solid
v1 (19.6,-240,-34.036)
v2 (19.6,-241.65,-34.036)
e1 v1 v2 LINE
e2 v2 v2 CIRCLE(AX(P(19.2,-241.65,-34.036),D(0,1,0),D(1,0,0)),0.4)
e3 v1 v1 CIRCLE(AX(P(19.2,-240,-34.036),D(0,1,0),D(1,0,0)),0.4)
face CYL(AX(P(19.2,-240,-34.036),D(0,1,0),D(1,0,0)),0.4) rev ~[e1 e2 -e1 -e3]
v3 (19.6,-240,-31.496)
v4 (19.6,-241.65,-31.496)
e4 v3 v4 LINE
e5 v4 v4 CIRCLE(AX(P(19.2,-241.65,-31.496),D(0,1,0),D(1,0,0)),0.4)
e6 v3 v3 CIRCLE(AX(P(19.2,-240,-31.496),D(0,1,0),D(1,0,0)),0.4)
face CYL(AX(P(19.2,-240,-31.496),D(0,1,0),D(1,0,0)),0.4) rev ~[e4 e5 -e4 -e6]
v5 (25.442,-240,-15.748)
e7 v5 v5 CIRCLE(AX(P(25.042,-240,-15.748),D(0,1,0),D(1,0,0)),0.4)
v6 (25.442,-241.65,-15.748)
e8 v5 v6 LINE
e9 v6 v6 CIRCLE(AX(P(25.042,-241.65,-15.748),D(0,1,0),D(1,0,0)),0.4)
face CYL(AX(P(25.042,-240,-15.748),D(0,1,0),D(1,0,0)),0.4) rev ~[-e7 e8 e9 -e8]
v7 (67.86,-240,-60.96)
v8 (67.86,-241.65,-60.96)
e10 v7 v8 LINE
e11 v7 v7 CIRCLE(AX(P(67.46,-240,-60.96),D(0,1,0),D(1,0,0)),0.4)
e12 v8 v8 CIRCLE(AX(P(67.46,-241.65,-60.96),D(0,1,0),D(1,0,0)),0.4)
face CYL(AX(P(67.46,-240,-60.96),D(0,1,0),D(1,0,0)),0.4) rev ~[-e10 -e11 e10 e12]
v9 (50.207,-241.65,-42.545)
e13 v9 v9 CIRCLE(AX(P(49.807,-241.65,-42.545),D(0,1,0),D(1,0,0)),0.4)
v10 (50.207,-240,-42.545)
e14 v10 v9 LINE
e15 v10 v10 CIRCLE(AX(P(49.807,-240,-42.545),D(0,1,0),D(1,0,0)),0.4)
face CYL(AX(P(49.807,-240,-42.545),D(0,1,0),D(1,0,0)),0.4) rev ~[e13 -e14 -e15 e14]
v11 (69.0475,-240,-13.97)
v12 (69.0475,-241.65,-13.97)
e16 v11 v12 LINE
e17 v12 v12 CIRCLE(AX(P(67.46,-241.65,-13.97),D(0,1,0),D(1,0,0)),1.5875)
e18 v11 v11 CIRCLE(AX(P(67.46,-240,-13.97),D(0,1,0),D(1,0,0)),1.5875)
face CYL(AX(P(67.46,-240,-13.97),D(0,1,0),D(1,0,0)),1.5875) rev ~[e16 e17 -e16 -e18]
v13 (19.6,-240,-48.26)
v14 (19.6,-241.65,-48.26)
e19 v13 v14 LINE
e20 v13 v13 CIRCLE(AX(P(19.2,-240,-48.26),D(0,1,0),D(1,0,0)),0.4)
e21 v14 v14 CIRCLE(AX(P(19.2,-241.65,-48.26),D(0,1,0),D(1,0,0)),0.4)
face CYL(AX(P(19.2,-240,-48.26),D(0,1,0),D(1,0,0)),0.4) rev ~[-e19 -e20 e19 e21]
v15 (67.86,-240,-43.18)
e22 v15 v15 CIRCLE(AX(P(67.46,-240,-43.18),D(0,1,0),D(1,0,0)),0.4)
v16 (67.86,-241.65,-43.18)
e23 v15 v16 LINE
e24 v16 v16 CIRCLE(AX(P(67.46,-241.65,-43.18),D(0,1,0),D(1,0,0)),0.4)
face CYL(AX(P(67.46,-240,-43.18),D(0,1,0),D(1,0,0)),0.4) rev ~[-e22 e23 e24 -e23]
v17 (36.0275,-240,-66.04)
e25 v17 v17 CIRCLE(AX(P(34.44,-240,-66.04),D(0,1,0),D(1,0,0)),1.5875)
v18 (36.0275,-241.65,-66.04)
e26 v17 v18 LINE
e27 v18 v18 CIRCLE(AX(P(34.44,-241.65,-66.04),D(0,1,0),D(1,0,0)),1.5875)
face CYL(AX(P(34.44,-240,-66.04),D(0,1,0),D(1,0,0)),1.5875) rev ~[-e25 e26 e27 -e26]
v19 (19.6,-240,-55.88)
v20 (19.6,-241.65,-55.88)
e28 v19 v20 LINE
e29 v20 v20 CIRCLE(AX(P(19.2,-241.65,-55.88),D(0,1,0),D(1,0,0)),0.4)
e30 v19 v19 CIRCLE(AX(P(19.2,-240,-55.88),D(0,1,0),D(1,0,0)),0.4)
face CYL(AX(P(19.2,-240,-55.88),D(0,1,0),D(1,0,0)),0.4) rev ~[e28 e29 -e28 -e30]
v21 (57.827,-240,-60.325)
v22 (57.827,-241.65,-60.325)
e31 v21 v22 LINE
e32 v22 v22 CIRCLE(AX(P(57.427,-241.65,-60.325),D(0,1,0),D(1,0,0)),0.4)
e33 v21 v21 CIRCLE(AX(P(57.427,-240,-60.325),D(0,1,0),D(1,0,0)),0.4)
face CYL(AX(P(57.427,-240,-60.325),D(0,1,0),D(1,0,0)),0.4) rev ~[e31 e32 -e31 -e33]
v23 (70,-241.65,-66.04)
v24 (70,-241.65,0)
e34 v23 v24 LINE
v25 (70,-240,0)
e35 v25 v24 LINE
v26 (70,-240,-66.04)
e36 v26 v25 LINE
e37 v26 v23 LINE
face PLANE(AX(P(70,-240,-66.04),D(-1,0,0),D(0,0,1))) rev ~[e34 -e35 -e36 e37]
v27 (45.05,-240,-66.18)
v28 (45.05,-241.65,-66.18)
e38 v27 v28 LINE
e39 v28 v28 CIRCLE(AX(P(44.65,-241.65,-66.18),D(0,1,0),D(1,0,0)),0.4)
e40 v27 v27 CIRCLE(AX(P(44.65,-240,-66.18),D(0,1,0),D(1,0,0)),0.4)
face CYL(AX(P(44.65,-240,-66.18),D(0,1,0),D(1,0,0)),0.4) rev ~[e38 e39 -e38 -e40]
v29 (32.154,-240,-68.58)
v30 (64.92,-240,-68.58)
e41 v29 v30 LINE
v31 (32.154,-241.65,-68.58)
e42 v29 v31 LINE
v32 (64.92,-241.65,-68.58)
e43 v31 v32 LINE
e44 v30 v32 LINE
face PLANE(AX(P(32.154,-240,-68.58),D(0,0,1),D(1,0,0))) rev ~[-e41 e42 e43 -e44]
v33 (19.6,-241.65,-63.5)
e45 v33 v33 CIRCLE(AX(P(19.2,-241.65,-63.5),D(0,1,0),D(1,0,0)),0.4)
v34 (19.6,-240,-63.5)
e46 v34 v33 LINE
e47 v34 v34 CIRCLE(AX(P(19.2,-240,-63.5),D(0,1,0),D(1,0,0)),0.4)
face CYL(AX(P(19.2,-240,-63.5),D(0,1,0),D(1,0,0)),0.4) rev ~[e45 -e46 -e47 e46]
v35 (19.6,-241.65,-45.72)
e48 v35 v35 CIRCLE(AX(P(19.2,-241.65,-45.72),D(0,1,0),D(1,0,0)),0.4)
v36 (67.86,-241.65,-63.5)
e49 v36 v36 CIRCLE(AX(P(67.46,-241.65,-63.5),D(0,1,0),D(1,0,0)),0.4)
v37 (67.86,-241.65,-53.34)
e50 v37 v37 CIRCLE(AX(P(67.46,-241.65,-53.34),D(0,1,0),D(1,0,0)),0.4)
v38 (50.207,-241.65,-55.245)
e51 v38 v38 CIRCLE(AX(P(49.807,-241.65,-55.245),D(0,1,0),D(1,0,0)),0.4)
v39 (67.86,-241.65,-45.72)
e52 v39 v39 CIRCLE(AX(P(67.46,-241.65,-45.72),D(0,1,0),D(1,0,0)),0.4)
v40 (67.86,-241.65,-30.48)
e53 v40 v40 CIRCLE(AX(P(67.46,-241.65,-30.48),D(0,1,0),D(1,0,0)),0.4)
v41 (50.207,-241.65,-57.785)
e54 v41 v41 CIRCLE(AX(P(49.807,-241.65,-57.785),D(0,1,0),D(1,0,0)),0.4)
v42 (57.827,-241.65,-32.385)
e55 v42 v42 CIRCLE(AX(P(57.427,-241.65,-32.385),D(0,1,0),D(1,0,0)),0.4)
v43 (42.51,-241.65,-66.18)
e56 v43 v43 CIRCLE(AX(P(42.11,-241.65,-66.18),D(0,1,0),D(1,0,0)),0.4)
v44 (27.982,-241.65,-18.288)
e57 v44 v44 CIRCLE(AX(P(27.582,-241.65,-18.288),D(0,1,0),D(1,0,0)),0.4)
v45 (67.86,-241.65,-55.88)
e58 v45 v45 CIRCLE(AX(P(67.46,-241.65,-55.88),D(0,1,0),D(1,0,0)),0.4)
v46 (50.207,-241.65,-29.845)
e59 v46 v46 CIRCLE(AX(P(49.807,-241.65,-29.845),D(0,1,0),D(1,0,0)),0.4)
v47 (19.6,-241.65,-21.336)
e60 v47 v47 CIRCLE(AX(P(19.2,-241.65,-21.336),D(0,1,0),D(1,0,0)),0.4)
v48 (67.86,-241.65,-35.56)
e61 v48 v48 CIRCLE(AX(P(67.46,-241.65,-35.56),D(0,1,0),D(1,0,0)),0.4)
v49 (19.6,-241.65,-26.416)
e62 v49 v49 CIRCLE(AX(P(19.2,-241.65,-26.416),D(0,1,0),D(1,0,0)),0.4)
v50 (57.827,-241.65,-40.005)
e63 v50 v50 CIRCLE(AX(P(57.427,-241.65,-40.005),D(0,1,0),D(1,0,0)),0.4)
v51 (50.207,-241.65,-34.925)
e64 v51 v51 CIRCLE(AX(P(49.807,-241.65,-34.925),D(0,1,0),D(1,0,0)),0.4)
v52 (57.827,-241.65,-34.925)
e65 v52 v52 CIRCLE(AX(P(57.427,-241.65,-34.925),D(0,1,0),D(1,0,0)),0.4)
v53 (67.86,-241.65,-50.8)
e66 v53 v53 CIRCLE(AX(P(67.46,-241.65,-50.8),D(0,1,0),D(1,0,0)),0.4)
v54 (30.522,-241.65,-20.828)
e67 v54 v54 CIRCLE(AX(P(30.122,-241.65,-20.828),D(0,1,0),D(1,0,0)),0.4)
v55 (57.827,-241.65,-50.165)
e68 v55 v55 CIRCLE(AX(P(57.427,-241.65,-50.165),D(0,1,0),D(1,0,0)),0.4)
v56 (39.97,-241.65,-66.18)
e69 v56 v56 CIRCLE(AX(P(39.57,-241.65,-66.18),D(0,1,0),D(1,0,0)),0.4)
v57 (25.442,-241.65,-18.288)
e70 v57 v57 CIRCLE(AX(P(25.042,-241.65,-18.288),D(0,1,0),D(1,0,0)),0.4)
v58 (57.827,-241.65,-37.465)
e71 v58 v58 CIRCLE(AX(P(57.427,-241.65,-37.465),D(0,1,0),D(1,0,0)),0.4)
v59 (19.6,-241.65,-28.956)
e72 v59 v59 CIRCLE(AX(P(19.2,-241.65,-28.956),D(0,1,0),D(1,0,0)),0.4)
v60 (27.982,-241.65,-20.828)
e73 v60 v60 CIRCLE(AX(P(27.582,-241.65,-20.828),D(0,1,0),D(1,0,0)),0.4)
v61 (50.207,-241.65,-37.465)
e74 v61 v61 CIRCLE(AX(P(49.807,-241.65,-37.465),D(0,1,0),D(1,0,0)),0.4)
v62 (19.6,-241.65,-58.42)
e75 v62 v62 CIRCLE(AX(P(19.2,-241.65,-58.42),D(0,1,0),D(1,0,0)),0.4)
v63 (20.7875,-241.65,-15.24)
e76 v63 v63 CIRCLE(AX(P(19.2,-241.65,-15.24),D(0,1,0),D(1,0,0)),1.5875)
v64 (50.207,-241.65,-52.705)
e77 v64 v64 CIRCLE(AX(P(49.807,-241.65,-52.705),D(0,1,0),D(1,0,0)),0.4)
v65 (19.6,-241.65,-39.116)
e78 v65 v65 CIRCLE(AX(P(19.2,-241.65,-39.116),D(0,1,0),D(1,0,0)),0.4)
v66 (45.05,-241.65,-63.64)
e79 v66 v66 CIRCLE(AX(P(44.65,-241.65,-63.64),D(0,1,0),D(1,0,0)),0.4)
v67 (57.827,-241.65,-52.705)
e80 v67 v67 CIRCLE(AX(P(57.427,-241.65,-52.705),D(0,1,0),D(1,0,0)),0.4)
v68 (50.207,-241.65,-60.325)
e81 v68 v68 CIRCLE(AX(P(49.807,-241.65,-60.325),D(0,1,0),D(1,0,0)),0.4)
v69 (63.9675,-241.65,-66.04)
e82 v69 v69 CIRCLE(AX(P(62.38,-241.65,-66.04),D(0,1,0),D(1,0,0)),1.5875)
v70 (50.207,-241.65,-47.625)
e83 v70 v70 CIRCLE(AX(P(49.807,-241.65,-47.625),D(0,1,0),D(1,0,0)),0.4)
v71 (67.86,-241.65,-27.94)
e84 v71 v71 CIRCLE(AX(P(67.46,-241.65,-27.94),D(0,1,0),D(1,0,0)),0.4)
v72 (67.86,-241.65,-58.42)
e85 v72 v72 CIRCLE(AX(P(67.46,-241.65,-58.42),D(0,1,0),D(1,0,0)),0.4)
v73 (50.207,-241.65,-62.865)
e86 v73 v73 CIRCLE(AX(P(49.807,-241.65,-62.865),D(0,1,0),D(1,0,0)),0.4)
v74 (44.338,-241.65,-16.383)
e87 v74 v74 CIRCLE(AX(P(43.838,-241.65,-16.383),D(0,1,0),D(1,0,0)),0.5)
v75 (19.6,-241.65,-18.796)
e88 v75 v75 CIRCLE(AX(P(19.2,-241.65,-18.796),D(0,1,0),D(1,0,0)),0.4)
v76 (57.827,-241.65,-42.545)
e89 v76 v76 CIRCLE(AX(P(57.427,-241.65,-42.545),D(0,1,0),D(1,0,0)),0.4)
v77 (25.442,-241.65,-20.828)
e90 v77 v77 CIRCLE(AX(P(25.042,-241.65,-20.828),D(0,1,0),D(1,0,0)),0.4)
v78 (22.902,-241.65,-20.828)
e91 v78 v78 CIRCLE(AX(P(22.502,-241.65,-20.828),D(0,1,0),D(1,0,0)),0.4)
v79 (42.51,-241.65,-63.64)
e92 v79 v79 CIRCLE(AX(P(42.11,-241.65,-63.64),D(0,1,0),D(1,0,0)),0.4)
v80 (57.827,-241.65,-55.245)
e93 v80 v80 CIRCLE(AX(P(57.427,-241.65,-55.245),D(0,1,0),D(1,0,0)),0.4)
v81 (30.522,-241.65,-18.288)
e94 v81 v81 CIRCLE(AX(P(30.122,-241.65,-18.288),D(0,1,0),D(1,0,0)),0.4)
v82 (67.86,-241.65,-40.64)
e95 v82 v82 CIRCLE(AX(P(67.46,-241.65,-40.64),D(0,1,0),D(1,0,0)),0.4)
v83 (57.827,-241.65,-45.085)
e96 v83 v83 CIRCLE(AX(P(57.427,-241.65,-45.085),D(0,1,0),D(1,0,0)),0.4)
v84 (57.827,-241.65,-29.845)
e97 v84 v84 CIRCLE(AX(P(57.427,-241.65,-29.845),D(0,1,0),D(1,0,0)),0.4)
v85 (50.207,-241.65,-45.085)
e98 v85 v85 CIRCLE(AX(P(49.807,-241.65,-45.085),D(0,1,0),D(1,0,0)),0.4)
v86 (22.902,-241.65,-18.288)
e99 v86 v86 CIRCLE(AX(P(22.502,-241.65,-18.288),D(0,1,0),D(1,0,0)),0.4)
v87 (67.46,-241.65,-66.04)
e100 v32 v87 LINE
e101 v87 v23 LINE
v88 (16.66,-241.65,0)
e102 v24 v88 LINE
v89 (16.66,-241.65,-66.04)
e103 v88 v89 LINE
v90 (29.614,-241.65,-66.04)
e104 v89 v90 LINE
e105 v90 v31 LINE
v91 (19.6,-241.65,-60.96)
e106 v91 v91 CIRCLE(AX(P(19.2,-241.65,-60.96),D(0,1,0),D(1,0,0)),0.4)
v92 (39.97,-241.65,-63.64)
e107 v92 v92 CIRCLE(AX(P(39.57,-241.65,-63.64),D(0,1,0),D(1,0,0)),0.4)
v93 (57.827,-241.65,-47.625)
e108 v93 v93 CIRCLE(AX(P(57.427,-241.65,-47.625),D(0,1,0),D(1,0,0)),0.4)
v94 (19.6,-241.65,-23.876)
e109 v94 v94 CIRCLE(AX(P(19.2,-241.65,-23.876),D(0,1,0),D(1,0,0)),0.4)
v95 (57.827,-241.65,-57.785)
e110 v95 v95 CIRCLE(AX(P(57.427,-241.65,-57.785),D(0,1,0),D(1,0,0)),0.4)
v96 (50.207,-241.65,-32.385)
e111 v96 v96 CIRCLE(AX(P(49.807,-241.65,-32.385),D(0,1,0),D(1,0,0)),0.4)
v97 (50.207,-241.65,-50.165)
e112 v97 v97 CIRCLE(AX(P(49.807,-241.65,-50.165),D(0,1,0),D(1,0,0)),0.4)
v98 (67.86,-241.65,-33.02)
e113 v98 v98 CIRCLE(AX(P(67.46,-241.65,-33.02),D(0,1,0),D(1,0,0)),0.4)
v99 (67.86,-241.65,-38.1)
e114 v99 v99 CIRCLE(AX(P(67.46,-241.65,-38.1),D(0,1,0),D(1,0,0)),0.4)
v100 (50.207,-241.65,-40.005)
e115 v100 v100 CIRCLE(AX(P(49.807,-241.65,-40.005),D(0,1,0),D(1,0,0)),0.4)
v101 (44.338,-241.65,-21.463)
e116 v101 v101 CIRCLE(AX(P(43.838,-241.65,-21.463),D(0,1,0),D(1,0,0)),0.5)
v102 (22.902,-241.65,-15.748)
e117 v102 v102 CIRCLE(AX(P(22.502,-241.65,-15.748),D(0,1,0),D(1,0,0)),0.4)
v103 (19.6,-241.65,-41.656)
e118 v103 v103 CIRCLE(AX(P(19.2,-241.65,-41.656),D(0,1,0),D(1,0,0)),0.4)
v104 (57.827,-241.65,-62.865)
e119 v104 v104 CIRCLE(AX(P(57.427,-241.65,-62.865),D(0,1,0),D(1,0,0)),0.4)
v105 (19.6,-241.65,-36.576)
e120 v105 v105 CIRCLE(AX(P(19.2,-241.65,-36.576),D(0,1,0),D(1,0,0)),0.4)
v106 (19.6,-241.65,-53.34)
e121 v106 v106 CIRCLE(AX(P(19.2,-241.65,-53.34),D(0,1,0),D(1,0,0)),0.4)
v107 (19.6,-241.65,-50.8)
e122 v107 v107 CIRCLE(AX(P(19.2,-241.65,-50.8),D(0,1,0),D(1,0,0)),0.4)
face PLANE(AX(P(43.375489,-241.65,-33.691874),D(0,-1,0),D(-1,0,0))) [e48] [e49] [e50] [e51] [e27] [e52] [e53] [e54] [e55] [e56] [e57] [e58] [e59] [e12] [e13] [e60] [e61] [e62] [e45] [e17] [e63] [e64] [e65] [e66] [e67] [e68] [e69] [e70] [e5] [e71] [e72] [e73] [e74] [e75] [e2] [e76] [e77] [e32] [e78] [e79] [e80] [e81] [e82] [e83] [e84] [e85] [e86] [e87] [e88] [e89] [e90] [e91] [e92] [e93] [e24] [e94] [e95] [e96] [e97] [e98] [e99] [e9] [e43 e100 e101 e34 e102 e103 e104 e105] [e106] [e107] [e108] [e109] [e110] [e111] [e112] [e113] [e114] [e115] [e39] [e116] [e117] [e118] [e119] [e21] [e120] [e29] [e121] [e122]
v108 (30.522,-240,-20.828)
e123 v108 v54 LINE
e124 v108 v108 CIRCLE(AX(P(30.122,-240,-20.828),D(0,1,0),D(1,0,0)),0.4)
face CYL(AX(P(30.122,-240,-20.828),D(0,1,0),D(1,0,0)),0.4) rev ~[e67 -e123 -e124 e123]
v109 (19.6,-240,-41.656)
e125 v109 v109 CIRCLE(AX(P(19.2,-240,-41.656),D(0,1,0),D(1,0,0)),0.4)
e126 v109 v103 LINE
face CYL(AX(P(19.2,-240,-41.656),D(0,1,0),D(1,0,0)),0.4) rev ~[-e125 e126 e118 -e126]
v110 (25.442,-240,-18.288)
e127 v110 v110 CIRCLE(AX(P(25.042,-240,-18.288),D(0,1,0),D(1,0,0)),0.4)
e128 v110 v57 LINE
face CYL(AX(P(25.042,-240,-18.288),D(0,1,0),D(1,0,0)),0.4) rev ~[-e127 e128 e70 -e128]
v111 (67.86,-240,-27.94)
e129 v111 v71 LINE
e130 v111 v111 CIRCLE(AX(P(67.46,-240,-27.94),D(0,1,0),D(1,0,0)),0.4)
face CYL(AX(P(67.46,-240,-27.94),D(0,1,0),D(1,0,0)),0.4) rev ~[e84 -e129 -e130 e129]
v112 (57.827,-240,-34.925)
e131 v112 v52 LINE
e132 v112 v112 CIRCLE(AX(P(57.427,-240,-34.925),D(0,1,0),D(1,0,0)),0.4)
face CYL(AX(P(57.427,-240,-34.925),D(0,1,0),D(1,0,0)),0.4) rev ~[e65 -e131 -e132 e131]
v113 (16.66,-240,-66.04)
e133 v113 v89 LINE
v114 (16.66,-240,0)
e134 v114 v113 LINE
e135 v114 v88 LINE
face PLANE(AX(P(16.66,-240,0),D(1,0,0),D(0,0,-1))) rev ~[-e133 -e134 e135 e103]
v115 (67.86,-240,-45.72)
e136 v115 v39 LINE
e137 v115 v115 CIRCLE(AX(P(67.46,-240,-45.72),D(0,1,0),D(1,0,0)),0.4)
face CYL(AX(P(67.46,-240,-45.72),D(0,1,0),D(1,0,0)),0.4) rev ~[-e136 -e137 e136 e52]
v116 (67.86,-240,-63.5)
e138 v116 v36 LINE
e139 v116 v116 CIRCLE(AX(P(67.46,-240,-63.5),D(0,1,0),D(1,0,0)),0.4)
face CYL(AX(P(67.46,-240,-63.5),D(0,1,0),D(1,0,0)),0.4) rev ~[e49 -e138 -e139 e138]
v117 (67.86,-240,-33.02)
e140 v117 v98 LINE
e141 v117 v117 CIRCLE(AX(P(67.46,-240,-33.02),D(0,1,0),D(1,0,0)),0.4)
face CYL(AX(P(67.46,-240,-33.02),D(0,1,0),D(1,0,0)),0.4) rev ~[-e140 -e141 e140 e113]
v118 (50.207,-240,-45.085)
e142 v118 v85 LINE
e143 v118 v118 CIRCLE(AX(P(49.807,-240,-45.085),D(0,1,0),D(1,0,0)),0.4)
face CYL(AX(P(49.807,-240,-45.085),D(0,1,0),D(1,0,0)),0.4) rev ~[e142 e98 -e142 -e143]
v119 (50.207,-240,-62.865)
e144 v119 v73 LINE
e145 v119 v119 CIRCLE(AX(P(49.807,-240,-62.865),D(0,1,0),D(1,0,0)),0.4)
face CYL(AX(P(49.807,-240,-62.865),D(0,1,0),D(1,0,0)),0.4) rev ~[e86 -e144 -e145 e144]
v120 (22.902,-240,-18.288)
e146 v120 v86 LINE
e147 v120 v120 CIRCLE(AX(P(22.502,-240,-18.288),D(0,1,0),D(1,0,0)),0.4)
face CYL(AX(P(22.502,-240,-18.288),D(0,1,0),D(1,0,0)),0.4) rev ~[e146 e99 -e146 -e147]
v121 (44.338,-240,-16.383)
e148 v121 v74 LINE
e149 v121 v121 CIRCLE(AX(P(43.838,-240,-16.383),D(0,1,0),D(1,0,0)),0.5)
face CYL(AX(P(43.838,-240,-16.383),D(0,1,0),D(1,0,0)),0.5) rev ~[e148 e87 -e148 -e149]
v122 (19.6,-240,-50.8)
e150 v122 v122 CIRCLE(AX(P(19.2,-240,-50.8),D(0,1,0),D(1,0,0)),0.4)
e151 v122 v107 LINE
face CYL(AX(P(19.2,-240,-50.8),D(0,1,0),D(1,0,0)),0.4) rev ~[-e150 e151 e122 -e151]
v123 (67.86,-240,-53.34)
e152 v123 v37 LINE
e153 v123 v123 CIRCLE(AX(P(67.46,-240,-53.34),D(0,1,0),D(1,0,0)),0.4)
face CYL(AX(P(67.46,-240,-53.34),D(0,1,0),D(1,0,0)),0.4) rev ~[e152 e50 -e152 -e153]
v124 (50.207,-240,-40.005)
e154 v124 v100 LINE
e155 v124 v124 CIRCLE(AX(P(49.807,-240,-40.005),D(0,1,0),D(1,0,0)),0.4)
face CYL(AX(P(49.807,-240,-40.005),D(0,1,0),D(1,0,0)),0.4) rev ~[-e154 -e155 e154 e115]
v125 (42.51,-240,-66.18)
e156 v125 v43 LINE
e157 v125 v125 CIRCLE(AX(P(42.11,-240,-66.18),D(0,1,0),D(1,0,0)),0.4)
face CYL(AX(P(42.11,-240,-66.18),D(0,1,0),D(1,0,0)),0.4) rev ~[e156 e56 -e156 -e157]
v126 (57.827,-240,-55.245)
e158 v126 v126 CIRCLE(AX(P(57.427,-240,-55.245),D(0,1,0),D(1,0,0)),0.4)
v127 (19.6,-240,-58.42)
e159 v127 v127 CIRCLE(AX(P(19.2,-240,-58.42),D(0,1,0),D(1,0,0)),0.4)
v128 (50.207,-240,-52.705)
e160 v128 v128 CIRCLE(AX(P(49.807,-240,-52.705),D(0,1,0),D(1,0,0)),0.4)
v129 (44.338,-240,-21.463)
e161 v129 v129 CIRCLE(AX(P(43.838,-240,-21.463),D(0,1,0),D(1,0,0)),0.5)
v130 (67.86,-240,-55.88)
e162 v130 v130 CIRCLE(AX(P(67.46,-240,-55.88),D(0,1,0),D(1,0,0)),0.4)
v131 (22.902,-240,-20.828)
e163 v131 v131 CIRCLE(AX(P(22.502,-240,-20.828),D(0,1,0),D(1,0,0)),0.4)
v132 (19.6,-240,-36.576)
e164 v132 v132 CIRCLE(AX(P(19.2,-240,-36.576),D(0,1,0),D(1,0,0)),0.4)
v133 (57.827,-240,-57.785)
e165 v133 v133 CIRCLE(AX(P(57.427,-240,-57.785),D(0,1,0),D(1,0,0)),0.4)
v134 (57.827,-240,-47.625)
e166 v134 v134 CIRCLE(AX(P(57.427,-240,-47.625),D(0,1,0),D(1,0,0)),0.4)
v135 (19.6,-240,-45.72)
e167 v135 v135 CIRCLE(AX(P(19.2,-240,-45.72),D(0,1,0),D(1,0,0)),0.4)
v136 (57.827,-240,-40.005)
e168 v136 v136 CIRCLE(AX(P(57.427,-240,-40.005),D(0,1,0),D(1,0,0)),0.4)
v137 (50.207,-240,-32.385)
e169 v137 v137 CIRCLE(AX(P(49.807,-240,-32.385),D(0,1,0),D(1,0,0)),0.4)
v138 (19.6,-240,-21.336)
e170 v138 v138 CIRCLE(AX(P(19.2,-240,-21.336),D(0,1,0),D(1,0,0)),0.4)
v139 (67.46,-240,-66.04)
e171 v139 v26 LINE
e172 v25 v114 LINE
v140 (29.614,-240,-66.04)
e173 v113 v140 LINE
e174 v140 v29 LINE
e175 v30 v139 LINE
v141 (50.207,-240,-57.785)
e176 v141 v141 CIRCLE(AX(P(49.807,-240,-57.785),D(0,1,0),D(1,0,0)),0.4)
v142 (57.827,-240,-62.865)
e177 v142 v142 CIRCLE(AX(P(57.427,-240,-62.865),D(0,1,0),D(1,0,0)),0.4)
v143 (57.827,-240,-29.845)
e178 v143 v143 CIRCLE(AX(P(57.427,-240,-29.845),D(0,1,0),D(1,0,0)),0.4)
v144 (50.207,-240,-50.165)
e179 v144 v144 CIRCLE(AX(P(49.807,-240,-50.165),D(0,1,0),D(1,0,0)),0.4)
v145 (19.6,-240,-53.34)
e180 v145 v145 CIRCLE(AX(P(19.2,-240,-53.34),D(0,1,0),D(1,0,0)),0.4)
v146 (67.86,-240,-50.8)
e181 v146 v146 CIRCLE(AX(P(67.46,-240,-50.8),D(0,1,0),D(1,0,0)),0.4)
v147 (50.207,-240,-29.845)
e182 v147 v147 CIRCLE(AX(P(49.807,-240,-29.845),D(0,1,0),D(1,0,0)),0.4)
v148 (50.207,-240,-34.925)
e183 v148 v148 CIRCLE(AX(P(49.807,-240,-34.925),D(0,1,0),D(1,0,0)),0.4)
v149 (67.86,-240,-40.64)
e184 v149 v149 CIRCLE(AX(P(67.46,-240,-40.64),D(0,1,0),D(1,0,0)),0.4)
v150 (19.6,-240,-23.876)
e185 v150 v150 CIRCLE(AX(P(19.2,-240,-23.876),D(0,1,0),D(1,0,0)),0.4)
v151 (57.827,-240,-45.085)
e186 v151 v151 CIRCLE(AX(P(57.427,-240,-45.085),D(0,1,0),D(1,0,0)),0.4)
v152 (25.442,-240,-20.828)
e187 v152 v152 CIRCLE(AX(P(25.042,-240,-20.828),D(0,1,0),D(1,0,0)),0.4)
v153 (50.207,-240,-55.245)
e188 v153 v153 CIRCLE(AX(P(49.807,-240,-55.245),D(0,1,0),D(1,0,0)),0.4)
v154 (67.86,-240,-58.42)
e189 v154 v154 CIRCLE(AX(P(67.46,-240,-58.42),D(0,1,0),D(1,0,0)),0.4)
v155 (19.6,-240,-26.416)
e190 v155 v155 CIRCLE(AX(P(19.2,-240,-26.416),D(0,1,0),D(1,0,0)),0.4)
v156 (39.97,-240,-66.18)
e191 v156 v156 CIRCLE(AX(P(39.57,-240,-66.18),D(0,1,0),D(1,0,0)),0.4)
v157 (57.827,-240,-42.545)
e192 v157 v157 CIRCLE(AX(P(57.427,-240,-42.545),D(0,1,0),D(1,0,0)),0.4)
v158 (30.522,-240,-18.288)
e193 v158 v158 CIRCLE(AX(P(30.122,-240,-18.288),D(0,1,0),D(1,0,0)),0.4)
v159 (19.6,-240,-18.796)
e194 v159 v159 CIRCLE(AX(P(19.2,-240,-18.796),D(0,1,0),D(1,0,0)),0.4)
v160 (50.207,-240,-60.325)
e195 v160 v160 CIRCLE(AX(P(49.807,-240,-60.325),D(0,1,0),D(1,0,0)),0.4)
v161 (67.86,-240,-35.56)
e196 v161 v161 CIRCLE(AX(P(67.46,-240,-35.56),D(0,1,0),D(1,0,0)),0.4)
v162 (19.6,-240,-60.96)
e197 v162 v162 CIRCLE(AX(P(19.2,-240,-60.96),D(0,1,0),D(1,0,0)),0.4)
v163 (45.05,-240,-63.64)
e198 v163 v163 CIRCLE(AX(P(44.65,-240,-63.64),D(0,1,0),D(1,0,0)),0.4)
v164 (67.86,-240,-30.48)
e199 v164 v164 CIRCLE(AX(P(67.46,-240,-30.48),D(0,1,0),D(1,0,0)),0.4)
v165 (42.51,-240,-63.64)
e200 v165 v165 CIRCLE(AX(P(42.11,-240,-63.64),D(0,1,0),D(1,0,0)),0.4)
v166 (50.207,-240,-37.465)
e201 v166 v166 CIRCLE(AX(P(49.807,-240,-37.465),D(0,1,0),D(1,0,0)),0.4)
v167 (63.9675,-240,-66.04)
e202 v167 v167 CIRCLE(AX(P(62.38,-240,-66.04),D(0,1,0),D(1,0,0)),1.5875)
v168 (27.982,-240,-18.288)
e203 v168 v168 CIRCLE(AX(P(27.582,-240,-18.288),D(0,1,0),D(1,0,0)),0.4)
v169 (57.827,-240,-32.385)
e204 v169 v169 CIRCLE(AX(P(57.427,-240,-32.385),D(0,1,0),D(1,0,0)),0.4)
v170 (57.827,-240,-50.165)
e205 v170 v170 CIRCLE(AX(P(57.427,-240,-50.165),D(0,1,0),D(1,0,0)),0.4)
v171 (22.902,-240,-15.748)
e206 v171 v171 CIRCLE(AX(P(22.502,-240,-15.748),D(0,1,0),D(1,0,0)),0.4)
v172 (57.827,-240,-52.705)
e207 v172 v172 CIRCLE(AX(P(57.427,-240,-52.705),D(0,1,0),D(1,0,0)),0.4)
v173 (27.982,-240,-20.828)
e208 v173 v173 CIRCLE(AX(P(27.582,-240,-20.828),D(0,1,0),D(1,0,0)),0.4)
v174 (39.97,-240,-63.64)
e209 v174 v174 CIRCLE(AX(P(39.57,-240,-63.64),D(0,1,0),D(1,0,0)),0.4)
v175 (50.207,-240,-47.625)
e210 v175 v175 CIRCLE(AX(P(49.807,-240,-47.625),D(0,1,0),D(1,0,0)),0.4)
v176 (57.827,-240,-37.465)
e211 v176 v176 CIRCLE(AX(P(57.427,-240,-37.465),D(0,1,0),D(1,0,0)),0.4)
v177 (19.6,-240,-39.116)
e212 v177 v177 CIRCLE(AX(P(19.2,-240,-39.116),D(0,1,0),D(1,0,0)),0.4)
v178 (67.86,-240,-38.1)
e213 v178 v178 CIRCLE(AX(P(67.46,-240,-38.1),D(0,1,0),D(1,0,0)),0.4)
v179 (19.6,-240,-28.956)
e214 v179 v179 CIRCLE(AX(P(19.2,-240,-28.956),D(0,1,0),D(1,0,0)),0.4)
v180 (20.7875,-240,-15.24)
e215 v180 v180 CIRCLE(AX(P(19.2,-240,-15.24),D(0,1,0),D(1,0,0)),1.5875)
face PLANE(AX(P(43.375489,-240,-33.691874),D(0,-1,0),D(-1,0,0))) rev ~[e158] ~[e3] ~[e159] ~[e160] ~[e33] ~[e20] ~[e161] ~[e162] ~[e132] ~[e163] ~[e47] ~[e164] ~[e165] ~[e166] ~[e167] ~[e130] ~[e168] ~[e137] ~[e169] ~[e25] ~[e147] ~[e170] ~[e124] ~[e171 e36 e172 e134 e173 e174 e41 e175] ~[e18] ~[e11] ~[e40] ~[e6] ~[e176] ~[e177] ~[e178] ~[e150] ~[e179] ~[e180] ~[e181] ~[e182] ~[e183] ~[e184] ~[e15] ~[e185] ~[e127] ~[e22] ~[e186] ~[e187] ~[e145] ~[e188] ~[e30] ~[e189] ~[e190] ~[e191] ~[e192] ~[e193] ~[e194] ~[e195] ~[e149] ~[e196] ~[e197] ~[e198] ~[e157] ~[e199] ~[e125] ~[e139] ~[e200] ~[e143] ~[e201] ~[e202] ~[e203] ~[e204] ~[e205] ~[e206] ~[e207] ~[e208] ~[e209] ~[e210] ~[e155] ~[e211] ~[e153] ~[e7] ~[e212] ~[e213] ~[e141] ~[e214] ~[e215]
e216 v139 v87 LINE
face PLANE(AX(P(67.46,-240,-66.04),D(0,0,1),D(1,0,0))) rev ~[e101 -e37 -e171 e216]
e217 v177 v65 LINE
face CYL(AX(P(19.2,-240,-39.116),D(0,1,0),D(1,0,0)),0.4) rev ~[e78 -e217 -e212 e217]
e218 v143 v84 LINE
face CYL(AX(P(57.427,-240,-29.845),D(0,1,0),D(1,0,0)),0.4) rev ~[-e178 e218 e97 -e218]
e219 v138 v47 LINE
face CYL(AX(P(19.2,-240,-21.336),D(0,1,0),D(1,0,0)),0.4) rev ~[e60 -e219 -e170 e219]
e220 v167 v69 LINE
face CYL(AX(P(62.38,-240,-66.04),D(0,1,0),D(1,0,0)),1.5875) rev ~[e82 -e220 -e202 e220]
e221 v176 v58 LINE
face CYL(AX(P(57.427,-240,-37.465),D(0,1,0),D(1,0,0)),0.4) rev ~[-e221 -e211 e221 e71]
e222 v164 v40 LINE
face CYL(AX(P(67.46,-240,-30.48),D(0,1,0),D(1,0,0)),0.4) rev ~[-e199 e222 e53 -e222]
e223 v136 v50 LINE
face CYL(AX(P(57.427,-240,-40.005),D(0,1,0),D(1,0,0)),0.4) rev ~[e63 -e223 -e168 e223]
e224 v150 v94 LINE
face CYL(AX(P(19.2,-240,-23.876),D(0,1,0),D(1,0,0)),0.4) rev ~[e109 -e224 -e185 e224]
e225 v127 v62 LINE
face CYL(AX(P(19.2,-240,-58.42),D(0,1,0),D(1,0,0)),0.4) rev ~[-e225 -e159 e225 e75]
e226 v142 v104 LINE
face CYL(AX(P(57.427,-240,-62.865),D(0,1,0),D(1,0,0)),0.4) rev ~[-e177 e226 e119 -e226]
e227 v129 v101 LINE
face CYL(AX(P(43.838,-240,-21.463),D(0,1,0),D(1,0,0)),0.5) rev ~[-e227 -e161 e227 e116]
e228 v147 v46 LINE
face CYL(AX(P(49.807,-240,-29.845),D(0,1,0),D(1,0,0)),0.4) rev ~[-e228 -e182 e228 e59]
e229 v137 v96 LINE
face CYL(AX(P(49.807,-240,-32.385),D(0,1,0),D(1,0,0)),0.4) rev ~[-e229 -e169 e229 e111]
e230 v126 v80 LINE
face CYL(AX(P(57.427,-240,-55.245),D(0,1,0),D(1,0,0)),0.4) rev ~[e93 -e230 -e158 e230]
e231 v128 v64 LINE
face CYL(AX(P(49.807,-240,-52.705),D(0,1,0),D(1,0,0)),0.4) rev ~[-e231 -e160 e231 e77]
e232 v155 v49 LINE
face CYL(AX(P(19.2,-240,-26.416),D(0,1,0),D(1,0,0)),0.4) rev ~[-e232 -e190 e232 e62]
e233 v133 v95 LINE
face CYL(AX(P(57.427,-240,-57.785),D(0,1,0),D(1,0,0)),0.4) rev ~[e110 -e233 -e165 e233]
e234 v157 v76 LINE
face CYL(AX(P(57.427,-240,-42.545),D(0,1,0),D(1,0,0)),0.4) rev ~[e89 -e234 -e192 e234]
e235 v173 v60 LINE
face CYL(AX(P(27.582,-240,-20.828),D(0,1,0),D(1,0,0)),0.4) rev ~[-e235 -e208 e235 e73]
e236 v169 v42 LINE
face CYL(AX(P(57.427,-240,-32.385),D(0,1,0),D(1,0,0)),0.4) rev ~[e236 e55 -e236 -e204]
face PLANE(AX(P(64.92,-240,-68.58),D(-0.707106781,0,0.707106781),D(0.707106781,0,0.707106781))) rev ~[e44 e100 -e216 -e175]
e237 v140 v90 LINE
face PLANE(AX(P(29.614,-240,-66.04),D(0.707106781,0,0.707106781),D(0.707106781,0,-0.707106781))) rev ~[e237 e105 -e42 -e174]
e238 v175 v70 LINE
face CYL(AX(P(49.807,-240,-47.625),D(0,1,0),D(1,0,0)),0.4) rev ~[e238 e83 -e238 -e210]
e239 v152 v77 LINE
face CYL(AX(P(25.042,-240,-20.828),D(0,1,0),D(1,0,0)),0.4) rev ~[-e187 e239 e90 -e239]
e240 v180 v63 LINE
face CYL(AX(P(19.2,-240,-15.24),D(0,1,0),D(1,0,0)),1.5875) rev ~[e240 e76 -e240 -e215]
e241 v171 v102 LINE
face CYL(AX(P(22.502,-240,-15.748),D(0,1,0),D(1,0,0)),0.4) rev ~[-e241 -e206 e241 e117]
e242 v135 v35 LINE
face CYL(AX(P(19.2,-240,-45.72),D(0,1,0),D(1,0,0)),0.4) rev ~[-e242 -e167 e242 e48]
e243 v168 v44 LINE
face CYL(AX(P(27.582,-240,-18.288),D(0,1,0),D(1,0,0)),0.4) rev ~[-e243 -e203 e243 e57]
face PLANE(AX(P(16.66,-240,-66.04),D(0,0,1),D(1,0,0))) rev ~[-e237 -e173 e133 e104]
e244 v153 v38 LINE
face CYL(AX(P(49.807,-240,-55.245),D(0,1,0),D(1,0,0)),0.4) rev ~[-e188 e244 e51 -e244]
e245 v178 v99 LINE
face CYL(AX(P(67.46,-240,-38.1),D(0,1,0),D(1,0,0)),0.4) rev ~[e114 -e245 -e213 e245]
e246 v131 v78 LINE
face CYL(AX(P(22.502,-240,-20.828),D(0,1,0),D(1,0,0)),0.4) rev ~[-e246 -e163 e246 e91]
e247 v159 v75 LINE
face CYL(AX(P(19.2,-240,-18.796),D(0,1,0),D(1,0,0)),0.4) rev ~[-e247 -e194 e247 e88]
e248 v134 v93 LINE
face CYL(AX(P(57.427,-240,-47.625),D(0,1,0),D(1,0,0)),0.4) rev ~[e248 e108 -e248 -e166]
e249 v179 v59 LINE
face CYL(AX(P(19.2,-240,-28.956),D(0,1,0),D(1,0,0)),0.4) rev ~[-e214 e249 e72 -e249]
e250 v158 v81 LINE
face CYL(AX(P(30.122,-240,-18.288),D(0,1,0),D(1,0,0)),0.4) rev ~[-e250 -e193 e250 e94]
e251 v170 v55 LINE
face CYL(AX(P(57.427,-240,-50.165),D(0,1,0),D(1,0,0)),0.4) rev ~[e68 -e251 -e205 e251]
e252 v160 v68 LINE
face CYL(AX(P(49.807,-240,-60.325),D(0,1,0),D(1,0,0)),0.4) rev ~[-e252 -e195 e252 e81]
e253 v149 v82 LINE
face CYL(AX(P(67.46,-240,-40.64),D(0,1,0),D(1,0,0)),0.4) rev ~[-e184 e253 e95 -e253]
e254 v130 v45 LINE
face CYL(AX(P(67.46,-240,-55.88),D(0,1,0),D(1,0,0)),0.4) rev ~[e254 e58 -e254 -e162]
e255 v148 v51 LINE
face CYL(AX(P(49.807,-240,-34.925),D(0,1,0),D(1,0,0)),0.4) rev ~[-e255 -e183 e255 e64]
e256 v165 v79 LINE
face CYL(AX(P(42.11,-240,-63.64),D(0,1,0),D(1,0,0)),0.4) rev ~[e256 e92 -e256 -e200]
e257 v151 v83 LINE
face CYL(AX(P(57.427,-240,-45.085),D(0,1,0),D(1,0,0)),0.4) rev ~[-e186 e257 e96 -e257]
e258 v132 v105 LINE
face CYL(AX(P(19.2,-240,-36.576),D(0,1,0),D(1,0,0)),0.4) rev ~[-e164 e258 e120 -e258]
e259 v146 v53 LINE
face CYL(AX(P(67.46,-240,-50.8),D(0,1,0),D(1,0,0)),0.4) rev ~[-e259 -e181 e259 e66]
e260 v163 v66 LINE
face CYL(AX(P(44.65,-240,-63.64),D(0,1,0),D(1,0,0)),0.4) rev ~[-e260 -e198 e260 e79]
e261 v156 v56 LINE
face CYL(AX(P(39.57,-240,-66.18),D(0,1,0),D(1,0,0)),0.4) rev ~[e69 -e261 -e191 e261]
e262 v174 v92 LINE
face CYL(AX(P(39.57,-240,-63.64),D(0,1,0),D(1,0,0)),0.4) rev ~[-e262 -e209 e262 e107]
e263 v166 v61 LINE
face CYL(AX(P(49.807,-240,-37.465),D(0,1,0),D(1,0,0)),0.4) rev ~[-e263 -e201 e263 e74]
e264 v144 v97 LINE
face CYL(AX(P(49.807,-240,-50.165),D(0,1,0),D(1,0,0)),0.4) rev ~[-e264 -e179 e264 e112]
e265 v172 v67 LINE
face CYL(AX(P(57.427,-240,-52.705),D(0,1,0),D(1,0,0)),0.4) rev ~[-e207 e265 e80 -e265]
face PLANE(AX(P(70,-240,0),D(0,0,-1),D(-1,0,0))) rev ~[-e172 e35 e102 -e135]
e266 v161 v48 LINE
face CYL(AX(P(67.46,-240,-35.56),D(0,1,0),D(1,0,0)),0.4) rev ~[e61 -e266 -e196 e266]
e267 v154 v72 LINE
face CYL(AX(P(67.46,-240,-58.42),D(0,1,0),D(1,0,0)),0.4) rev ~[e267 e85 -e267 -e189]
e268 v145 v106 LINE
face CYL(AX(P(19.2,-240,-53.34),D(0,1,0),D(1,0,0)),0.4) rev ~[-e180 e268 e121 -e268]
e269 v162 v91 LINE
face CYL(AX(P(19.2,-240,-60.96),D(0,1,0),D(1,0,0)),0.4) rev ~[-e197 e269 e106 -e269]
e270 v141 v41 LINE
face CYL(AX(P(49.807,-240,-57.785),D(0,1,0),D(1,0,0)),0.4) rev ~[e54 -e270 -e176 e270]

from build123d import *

# Parameters (mm, degrees)
SKETCH1_R             = 1.5875
BOSS_EXTRUDE1_DEPTH   = 1.65
SKETCH2_R             = 0.4
CUT_EXTRUDE1_DEPTH    = 1.65
SKETCH3_R             = 0.4
CUT_EXTRUDE2_DEPTH    = 1.65
LPATTERN1_COUNT       = 15
LPATTERN1_PITCH       = 2.54
SKETCH4_R             = 0.4
CUT_EXTRUDE3_DEPTH    = 1.65
LPATTERN2_COUNT       = 10
LPATTERN2_PITCH       = 2.54
LPATTERN3_COUNT       = 8
LPATTERN3_PITCH       = 2.54
SKETCH5_R             = 0.4
SKETCH5_R_2           = 0.5
CUT_EXTRUDE4_DEPTH    = 10
SKETCH6_R             = 0.4
CUT_EXTRUDE5_DEPTH    = 10
BODY_MOVE_COPY6_ANGLE = 180
BODY_MOVE_COPY7_ANGLE = 180
BODY_MOVE_COPY8_ANGLE = 180
BODY_MOVE_COPY9_ANGLE = 180


with BuildPart() as part:
    # Sketch1 → Boss-Extrude1 (new body)
    with BuildSketch(Plane(origin=(0, 0, 0), x_dir=(1, 0, 0), z_dir=(0, 1, 0))):
        Polygon((0, 0), (-53.34, 0), (-53.34, 66.04), (-40.386, 66.04), (-37.846, 68.58), (-5.08, 68.58), (-2.54, 66.04), (0, 66.04), align=None)
        with Locations((-7.62, 66.04)):
            Circle(SKETCH1_R, mode=Mode.SUBTRACT)
        with Locations((-35.56, 66.04)):
            Circle(SKETCH1_R, mode=Mode.SUBTRACT)
        with Locations((-2.54, 13.97)):
            Circle(SKETCH1_R, mode=Mode.SUBTRACT)
        with Locations((-50.8, 15.24)):
            Circle(SKETCH1_R, mode=Mode.SUBTRACT)
    extrude(amount=-BOSS_EXTRUDE1_DEPTH)

    # Sketch2 → Cut-Extrude1 (cut)
    with BuildSketch(Plane(origin=(0, 0, 0), x_dir=(1, 0, 0), z_dir=(0, 1, 0))):
        with Locations((-2.54, 27.94)):
            Circle(SKETCH2_R)
    cut_extrude1 = extrude(amount=-CUT_EXTRUDE1_DEPTH, mode=Mode.SUBTRACT)

    # Sketch3 → Cut-Extrude2 (cut)
    with BuildSketch(Plane(origin=(0, 0, 0), x_dir=(1, 0, 0), z_dir=(0, 1, 0))):
        with Locations((-50.8, 18.796)):
            Circle(SKETCH3_R)
    cut_extrude2 = extrude(amount=-CUT_EXTRUDE2_DEPTH, mode=Mode.SUBTRACT)

    # LPattern1: Cut-Extrude1 ×15, 1 skipped
    with Locations(*[(0, 0, -i * LPATTERN1_PITCH) for i in range(1, LPATTERN1_COUNT) if i not in (8,)]):
        add(cut_extrude1, mode=Mode.SUBTRACT)

    # Sketch4 → Cut-Extrude3 (cut)
    with BuildSketch(Plane(origin=(0, 0, 0), x_dir=(1, 0, 0), z_dir=(0, 1, 0))):
        with Locations((-50.8, 45.72)):
            Circle(SKETCH4_R)
    cut_extrude3 = extrude(amount=-CUT_EXTRUDE3_DEPTH, mode=Mode.SUBTRACT)

    # LPattern2: Cut-Extrude2 ×10
    with Locations(*[(0, 0, -i * LPATTERN2_PITCH) for i in range(1, LPATTERN2_COUNT)]):
        add(cut_extrude2, mode=Mode.SUBTRACT)

    # LPattern3: Cut-Extrude3 ×8
    with Locations(*[(0, 0, -i * LPATTERN3_PITCH) for i in range(1, LPATTERN3_COUNT)]):
        add(cut_extrude3, mode=Mode.SUBTRACT)

    # Sketch5 → Cut-Extrude4 (cut)
    with BuildSketch(Plane(origin=(0, 0, 0), x_dir=(1, 0, 0), z_dir=(0, 1, 0))):
        with Locations((-30.43, 66.18)):
            Circle(SKETCH5_R)
        with Locations((-27.89, 66.18)):
            Circle(SKETCH5_R)
        with Locations((-25.35, 66.18)):
            Circle(SKETCH5_R)
        with Locations((-25.35, 63.64)):
            Circle(SKETCH5_R)
        with Locations((-27.89, 63.64)):
            Circle(SKETCH5_R)
        with Locations((-30.43, 63.64)):
            Circle(SKETCH5_R)
        with Locations((-47.498, 15.748)):
            Circle(SKETCH5_R)
        with Locations((-47.498, 18.288)):
            Circle(SKETCH5_R)
        with Locations((-47.498, 20.828)):
            Circle(SKETCH5_R)
        with Locations((-44.958, 20.828)):
            Circle(SKETCH5_R)
        with Locations((-44.958, 18.288)):
            Circle(SKETCH5_R)
        with Locations((-44.958, 15.748)):
            Circle(SKETCH5_R)
        with Locations((-42.418, 18.288)):
            Circle(SKETCH5_R)
        with Locations((-42.418, 20.828)):
            Circle(SKETCH5_R)
        with Locations((-39.878, 20.828)):
            Circle(SKETCH5_R)
        with Locations((-39.878, 18.288)):
            Circle(SKETCH5_R)
        with Locations((-26.162, 21.463)):
            Circle(SKETCH5_R_2)
        with Locations((-26.162, 16.383)):
            Circle(SKETCH5_R_2)
    extrude(amount=-CUT_EXTRUDE4_DEPTH, mode=Mode.SUBTRACT)

    # Sketch6 → Cut-Extrude5 (cut)
    with BuildSketch(Plane(origin=(0, 0, 0), x_dir=(1, 0, 0), z_dir=(0, 1, 0))):
        with Locations((-20.193, 29.845)):
            Circle(SKETCH6_R)
        with Locations((-12.573, 29.845)):
            Circle(SKETCH6_R)
        with Locations((-20.193, 32.385)):
            Circle(SKETCH6_R)
        with Locations((-12.573, 32.385)):
            Circle(SKETCH6_R)
        with Locations((-20.193, 34.925)):
            Circle(SKETCH6_R)
        with Locations((-12.573, 34.925)):
            Circle(SKETCH6_R)
        with Locations((-20.193, 37.465)):
            Circle(SKETCH6_R)
        with Locations((-12.573, 37.465)):
            Circle(SKETCH6_R)
        with Locations((-20.193, 40.005)):
            Circle(SKETCH6_R)
        with Locations((-12.573, 40.005)):
            Circle(SKETCH6_R)
        with Locations((-20.193, 42.545)):
            Circle(SKETCH6_R)
        with Locations((-12.573, 42.545)):
            Circle(SKETCH6_R)
        with Locations((-20.193, 45.085)):
            Circle(SKETCH6_R)
        with Locations((-12.573, 45.085)):
            Circle(SKETCH6_R)
        with Locations((-20.193, 47.625)):
            Circle(SKETCH6_R)
        with Locations((-12.573, 47.625)):
            Circle(SKETCH6_R)
        with Locations((-20.193, 50.165)):
            Circle(SKETCH6_R)
        with Locations((-12.573, 50.165)):
            Circle(SKETCH6_R)
        with Locations((-20.193, 52.705)):
            Circle(SKETCH6_R)
        with Locations((-12.573, 52.705)):
            Circle(SKETCH6_R)
        with Locations((-20.193, 55.245)):
            Circle(SKETCH6_R)
        with Locations((-12.573, 55.245)):
            Circle(SKETCH6_R)
        with Locations((-20.193, 57.785)):
            Circle(SKETCH6_R)
        with Locations((-12.573, 57.785)):
            Circle(SKETCH6_R)
        with Locations((-20.193, 60.325)):
            Circle(SKETCH6_R)
        with Locations((-12.573, 60.325)):
            Circle(SKETCH6_R)
        with Locations((-20.193, 62.865)):
            Circle(SKETCH6_R)
        with Locations((-12.573, 62.865)):
            Circle(SKETCH6_R)
    extrude(amount=-CUT_EXTRUDE5_DEPTH, mode=Mode.SUBTRACT)


with BuildPart() as part_1:
    # Body-Move/Copy1: moved
    add(part.part.moved(Location((50, 0, 0))))


with BuildPart() as part_2:
    # Body-Move/Copy2: moved
    add(part_1.part.moved(Location((20, -240, 0))))


with BuildPart() as part_3:
    # Body-Move/Copy6: moved
    add(part_2.part.rotate(Axis((43.33, 0, -34.29), (0, 1, 0)), BODY_MOVE_COPY6_ANGLE))


with BuildPart() as part_4:
    # Body-Move/Copy7: moved
    add(part_3.part.rotate(Axis((43.33, 0, -34.29), (0, 1, 0)), BODY_MOVE_COPY7_ANGLE))


with BuildPart() as part_5:
    # Body-Move/Copy8: moved
    add(part_4.part.rotate(Axis((43.33, 0, -34.29), (0, 1, 0)), BODY_MOVE_COPY8_ANGLE))


with BuildPart() as part_6:
    # Body-Move/Copy9: moved
    add(part_5.part.rotate(Axis((43.33, 0, -34.29), (0, 1, 0)), BODY_MOVE_COPY9_ANGLE))


solid = part_6.part
